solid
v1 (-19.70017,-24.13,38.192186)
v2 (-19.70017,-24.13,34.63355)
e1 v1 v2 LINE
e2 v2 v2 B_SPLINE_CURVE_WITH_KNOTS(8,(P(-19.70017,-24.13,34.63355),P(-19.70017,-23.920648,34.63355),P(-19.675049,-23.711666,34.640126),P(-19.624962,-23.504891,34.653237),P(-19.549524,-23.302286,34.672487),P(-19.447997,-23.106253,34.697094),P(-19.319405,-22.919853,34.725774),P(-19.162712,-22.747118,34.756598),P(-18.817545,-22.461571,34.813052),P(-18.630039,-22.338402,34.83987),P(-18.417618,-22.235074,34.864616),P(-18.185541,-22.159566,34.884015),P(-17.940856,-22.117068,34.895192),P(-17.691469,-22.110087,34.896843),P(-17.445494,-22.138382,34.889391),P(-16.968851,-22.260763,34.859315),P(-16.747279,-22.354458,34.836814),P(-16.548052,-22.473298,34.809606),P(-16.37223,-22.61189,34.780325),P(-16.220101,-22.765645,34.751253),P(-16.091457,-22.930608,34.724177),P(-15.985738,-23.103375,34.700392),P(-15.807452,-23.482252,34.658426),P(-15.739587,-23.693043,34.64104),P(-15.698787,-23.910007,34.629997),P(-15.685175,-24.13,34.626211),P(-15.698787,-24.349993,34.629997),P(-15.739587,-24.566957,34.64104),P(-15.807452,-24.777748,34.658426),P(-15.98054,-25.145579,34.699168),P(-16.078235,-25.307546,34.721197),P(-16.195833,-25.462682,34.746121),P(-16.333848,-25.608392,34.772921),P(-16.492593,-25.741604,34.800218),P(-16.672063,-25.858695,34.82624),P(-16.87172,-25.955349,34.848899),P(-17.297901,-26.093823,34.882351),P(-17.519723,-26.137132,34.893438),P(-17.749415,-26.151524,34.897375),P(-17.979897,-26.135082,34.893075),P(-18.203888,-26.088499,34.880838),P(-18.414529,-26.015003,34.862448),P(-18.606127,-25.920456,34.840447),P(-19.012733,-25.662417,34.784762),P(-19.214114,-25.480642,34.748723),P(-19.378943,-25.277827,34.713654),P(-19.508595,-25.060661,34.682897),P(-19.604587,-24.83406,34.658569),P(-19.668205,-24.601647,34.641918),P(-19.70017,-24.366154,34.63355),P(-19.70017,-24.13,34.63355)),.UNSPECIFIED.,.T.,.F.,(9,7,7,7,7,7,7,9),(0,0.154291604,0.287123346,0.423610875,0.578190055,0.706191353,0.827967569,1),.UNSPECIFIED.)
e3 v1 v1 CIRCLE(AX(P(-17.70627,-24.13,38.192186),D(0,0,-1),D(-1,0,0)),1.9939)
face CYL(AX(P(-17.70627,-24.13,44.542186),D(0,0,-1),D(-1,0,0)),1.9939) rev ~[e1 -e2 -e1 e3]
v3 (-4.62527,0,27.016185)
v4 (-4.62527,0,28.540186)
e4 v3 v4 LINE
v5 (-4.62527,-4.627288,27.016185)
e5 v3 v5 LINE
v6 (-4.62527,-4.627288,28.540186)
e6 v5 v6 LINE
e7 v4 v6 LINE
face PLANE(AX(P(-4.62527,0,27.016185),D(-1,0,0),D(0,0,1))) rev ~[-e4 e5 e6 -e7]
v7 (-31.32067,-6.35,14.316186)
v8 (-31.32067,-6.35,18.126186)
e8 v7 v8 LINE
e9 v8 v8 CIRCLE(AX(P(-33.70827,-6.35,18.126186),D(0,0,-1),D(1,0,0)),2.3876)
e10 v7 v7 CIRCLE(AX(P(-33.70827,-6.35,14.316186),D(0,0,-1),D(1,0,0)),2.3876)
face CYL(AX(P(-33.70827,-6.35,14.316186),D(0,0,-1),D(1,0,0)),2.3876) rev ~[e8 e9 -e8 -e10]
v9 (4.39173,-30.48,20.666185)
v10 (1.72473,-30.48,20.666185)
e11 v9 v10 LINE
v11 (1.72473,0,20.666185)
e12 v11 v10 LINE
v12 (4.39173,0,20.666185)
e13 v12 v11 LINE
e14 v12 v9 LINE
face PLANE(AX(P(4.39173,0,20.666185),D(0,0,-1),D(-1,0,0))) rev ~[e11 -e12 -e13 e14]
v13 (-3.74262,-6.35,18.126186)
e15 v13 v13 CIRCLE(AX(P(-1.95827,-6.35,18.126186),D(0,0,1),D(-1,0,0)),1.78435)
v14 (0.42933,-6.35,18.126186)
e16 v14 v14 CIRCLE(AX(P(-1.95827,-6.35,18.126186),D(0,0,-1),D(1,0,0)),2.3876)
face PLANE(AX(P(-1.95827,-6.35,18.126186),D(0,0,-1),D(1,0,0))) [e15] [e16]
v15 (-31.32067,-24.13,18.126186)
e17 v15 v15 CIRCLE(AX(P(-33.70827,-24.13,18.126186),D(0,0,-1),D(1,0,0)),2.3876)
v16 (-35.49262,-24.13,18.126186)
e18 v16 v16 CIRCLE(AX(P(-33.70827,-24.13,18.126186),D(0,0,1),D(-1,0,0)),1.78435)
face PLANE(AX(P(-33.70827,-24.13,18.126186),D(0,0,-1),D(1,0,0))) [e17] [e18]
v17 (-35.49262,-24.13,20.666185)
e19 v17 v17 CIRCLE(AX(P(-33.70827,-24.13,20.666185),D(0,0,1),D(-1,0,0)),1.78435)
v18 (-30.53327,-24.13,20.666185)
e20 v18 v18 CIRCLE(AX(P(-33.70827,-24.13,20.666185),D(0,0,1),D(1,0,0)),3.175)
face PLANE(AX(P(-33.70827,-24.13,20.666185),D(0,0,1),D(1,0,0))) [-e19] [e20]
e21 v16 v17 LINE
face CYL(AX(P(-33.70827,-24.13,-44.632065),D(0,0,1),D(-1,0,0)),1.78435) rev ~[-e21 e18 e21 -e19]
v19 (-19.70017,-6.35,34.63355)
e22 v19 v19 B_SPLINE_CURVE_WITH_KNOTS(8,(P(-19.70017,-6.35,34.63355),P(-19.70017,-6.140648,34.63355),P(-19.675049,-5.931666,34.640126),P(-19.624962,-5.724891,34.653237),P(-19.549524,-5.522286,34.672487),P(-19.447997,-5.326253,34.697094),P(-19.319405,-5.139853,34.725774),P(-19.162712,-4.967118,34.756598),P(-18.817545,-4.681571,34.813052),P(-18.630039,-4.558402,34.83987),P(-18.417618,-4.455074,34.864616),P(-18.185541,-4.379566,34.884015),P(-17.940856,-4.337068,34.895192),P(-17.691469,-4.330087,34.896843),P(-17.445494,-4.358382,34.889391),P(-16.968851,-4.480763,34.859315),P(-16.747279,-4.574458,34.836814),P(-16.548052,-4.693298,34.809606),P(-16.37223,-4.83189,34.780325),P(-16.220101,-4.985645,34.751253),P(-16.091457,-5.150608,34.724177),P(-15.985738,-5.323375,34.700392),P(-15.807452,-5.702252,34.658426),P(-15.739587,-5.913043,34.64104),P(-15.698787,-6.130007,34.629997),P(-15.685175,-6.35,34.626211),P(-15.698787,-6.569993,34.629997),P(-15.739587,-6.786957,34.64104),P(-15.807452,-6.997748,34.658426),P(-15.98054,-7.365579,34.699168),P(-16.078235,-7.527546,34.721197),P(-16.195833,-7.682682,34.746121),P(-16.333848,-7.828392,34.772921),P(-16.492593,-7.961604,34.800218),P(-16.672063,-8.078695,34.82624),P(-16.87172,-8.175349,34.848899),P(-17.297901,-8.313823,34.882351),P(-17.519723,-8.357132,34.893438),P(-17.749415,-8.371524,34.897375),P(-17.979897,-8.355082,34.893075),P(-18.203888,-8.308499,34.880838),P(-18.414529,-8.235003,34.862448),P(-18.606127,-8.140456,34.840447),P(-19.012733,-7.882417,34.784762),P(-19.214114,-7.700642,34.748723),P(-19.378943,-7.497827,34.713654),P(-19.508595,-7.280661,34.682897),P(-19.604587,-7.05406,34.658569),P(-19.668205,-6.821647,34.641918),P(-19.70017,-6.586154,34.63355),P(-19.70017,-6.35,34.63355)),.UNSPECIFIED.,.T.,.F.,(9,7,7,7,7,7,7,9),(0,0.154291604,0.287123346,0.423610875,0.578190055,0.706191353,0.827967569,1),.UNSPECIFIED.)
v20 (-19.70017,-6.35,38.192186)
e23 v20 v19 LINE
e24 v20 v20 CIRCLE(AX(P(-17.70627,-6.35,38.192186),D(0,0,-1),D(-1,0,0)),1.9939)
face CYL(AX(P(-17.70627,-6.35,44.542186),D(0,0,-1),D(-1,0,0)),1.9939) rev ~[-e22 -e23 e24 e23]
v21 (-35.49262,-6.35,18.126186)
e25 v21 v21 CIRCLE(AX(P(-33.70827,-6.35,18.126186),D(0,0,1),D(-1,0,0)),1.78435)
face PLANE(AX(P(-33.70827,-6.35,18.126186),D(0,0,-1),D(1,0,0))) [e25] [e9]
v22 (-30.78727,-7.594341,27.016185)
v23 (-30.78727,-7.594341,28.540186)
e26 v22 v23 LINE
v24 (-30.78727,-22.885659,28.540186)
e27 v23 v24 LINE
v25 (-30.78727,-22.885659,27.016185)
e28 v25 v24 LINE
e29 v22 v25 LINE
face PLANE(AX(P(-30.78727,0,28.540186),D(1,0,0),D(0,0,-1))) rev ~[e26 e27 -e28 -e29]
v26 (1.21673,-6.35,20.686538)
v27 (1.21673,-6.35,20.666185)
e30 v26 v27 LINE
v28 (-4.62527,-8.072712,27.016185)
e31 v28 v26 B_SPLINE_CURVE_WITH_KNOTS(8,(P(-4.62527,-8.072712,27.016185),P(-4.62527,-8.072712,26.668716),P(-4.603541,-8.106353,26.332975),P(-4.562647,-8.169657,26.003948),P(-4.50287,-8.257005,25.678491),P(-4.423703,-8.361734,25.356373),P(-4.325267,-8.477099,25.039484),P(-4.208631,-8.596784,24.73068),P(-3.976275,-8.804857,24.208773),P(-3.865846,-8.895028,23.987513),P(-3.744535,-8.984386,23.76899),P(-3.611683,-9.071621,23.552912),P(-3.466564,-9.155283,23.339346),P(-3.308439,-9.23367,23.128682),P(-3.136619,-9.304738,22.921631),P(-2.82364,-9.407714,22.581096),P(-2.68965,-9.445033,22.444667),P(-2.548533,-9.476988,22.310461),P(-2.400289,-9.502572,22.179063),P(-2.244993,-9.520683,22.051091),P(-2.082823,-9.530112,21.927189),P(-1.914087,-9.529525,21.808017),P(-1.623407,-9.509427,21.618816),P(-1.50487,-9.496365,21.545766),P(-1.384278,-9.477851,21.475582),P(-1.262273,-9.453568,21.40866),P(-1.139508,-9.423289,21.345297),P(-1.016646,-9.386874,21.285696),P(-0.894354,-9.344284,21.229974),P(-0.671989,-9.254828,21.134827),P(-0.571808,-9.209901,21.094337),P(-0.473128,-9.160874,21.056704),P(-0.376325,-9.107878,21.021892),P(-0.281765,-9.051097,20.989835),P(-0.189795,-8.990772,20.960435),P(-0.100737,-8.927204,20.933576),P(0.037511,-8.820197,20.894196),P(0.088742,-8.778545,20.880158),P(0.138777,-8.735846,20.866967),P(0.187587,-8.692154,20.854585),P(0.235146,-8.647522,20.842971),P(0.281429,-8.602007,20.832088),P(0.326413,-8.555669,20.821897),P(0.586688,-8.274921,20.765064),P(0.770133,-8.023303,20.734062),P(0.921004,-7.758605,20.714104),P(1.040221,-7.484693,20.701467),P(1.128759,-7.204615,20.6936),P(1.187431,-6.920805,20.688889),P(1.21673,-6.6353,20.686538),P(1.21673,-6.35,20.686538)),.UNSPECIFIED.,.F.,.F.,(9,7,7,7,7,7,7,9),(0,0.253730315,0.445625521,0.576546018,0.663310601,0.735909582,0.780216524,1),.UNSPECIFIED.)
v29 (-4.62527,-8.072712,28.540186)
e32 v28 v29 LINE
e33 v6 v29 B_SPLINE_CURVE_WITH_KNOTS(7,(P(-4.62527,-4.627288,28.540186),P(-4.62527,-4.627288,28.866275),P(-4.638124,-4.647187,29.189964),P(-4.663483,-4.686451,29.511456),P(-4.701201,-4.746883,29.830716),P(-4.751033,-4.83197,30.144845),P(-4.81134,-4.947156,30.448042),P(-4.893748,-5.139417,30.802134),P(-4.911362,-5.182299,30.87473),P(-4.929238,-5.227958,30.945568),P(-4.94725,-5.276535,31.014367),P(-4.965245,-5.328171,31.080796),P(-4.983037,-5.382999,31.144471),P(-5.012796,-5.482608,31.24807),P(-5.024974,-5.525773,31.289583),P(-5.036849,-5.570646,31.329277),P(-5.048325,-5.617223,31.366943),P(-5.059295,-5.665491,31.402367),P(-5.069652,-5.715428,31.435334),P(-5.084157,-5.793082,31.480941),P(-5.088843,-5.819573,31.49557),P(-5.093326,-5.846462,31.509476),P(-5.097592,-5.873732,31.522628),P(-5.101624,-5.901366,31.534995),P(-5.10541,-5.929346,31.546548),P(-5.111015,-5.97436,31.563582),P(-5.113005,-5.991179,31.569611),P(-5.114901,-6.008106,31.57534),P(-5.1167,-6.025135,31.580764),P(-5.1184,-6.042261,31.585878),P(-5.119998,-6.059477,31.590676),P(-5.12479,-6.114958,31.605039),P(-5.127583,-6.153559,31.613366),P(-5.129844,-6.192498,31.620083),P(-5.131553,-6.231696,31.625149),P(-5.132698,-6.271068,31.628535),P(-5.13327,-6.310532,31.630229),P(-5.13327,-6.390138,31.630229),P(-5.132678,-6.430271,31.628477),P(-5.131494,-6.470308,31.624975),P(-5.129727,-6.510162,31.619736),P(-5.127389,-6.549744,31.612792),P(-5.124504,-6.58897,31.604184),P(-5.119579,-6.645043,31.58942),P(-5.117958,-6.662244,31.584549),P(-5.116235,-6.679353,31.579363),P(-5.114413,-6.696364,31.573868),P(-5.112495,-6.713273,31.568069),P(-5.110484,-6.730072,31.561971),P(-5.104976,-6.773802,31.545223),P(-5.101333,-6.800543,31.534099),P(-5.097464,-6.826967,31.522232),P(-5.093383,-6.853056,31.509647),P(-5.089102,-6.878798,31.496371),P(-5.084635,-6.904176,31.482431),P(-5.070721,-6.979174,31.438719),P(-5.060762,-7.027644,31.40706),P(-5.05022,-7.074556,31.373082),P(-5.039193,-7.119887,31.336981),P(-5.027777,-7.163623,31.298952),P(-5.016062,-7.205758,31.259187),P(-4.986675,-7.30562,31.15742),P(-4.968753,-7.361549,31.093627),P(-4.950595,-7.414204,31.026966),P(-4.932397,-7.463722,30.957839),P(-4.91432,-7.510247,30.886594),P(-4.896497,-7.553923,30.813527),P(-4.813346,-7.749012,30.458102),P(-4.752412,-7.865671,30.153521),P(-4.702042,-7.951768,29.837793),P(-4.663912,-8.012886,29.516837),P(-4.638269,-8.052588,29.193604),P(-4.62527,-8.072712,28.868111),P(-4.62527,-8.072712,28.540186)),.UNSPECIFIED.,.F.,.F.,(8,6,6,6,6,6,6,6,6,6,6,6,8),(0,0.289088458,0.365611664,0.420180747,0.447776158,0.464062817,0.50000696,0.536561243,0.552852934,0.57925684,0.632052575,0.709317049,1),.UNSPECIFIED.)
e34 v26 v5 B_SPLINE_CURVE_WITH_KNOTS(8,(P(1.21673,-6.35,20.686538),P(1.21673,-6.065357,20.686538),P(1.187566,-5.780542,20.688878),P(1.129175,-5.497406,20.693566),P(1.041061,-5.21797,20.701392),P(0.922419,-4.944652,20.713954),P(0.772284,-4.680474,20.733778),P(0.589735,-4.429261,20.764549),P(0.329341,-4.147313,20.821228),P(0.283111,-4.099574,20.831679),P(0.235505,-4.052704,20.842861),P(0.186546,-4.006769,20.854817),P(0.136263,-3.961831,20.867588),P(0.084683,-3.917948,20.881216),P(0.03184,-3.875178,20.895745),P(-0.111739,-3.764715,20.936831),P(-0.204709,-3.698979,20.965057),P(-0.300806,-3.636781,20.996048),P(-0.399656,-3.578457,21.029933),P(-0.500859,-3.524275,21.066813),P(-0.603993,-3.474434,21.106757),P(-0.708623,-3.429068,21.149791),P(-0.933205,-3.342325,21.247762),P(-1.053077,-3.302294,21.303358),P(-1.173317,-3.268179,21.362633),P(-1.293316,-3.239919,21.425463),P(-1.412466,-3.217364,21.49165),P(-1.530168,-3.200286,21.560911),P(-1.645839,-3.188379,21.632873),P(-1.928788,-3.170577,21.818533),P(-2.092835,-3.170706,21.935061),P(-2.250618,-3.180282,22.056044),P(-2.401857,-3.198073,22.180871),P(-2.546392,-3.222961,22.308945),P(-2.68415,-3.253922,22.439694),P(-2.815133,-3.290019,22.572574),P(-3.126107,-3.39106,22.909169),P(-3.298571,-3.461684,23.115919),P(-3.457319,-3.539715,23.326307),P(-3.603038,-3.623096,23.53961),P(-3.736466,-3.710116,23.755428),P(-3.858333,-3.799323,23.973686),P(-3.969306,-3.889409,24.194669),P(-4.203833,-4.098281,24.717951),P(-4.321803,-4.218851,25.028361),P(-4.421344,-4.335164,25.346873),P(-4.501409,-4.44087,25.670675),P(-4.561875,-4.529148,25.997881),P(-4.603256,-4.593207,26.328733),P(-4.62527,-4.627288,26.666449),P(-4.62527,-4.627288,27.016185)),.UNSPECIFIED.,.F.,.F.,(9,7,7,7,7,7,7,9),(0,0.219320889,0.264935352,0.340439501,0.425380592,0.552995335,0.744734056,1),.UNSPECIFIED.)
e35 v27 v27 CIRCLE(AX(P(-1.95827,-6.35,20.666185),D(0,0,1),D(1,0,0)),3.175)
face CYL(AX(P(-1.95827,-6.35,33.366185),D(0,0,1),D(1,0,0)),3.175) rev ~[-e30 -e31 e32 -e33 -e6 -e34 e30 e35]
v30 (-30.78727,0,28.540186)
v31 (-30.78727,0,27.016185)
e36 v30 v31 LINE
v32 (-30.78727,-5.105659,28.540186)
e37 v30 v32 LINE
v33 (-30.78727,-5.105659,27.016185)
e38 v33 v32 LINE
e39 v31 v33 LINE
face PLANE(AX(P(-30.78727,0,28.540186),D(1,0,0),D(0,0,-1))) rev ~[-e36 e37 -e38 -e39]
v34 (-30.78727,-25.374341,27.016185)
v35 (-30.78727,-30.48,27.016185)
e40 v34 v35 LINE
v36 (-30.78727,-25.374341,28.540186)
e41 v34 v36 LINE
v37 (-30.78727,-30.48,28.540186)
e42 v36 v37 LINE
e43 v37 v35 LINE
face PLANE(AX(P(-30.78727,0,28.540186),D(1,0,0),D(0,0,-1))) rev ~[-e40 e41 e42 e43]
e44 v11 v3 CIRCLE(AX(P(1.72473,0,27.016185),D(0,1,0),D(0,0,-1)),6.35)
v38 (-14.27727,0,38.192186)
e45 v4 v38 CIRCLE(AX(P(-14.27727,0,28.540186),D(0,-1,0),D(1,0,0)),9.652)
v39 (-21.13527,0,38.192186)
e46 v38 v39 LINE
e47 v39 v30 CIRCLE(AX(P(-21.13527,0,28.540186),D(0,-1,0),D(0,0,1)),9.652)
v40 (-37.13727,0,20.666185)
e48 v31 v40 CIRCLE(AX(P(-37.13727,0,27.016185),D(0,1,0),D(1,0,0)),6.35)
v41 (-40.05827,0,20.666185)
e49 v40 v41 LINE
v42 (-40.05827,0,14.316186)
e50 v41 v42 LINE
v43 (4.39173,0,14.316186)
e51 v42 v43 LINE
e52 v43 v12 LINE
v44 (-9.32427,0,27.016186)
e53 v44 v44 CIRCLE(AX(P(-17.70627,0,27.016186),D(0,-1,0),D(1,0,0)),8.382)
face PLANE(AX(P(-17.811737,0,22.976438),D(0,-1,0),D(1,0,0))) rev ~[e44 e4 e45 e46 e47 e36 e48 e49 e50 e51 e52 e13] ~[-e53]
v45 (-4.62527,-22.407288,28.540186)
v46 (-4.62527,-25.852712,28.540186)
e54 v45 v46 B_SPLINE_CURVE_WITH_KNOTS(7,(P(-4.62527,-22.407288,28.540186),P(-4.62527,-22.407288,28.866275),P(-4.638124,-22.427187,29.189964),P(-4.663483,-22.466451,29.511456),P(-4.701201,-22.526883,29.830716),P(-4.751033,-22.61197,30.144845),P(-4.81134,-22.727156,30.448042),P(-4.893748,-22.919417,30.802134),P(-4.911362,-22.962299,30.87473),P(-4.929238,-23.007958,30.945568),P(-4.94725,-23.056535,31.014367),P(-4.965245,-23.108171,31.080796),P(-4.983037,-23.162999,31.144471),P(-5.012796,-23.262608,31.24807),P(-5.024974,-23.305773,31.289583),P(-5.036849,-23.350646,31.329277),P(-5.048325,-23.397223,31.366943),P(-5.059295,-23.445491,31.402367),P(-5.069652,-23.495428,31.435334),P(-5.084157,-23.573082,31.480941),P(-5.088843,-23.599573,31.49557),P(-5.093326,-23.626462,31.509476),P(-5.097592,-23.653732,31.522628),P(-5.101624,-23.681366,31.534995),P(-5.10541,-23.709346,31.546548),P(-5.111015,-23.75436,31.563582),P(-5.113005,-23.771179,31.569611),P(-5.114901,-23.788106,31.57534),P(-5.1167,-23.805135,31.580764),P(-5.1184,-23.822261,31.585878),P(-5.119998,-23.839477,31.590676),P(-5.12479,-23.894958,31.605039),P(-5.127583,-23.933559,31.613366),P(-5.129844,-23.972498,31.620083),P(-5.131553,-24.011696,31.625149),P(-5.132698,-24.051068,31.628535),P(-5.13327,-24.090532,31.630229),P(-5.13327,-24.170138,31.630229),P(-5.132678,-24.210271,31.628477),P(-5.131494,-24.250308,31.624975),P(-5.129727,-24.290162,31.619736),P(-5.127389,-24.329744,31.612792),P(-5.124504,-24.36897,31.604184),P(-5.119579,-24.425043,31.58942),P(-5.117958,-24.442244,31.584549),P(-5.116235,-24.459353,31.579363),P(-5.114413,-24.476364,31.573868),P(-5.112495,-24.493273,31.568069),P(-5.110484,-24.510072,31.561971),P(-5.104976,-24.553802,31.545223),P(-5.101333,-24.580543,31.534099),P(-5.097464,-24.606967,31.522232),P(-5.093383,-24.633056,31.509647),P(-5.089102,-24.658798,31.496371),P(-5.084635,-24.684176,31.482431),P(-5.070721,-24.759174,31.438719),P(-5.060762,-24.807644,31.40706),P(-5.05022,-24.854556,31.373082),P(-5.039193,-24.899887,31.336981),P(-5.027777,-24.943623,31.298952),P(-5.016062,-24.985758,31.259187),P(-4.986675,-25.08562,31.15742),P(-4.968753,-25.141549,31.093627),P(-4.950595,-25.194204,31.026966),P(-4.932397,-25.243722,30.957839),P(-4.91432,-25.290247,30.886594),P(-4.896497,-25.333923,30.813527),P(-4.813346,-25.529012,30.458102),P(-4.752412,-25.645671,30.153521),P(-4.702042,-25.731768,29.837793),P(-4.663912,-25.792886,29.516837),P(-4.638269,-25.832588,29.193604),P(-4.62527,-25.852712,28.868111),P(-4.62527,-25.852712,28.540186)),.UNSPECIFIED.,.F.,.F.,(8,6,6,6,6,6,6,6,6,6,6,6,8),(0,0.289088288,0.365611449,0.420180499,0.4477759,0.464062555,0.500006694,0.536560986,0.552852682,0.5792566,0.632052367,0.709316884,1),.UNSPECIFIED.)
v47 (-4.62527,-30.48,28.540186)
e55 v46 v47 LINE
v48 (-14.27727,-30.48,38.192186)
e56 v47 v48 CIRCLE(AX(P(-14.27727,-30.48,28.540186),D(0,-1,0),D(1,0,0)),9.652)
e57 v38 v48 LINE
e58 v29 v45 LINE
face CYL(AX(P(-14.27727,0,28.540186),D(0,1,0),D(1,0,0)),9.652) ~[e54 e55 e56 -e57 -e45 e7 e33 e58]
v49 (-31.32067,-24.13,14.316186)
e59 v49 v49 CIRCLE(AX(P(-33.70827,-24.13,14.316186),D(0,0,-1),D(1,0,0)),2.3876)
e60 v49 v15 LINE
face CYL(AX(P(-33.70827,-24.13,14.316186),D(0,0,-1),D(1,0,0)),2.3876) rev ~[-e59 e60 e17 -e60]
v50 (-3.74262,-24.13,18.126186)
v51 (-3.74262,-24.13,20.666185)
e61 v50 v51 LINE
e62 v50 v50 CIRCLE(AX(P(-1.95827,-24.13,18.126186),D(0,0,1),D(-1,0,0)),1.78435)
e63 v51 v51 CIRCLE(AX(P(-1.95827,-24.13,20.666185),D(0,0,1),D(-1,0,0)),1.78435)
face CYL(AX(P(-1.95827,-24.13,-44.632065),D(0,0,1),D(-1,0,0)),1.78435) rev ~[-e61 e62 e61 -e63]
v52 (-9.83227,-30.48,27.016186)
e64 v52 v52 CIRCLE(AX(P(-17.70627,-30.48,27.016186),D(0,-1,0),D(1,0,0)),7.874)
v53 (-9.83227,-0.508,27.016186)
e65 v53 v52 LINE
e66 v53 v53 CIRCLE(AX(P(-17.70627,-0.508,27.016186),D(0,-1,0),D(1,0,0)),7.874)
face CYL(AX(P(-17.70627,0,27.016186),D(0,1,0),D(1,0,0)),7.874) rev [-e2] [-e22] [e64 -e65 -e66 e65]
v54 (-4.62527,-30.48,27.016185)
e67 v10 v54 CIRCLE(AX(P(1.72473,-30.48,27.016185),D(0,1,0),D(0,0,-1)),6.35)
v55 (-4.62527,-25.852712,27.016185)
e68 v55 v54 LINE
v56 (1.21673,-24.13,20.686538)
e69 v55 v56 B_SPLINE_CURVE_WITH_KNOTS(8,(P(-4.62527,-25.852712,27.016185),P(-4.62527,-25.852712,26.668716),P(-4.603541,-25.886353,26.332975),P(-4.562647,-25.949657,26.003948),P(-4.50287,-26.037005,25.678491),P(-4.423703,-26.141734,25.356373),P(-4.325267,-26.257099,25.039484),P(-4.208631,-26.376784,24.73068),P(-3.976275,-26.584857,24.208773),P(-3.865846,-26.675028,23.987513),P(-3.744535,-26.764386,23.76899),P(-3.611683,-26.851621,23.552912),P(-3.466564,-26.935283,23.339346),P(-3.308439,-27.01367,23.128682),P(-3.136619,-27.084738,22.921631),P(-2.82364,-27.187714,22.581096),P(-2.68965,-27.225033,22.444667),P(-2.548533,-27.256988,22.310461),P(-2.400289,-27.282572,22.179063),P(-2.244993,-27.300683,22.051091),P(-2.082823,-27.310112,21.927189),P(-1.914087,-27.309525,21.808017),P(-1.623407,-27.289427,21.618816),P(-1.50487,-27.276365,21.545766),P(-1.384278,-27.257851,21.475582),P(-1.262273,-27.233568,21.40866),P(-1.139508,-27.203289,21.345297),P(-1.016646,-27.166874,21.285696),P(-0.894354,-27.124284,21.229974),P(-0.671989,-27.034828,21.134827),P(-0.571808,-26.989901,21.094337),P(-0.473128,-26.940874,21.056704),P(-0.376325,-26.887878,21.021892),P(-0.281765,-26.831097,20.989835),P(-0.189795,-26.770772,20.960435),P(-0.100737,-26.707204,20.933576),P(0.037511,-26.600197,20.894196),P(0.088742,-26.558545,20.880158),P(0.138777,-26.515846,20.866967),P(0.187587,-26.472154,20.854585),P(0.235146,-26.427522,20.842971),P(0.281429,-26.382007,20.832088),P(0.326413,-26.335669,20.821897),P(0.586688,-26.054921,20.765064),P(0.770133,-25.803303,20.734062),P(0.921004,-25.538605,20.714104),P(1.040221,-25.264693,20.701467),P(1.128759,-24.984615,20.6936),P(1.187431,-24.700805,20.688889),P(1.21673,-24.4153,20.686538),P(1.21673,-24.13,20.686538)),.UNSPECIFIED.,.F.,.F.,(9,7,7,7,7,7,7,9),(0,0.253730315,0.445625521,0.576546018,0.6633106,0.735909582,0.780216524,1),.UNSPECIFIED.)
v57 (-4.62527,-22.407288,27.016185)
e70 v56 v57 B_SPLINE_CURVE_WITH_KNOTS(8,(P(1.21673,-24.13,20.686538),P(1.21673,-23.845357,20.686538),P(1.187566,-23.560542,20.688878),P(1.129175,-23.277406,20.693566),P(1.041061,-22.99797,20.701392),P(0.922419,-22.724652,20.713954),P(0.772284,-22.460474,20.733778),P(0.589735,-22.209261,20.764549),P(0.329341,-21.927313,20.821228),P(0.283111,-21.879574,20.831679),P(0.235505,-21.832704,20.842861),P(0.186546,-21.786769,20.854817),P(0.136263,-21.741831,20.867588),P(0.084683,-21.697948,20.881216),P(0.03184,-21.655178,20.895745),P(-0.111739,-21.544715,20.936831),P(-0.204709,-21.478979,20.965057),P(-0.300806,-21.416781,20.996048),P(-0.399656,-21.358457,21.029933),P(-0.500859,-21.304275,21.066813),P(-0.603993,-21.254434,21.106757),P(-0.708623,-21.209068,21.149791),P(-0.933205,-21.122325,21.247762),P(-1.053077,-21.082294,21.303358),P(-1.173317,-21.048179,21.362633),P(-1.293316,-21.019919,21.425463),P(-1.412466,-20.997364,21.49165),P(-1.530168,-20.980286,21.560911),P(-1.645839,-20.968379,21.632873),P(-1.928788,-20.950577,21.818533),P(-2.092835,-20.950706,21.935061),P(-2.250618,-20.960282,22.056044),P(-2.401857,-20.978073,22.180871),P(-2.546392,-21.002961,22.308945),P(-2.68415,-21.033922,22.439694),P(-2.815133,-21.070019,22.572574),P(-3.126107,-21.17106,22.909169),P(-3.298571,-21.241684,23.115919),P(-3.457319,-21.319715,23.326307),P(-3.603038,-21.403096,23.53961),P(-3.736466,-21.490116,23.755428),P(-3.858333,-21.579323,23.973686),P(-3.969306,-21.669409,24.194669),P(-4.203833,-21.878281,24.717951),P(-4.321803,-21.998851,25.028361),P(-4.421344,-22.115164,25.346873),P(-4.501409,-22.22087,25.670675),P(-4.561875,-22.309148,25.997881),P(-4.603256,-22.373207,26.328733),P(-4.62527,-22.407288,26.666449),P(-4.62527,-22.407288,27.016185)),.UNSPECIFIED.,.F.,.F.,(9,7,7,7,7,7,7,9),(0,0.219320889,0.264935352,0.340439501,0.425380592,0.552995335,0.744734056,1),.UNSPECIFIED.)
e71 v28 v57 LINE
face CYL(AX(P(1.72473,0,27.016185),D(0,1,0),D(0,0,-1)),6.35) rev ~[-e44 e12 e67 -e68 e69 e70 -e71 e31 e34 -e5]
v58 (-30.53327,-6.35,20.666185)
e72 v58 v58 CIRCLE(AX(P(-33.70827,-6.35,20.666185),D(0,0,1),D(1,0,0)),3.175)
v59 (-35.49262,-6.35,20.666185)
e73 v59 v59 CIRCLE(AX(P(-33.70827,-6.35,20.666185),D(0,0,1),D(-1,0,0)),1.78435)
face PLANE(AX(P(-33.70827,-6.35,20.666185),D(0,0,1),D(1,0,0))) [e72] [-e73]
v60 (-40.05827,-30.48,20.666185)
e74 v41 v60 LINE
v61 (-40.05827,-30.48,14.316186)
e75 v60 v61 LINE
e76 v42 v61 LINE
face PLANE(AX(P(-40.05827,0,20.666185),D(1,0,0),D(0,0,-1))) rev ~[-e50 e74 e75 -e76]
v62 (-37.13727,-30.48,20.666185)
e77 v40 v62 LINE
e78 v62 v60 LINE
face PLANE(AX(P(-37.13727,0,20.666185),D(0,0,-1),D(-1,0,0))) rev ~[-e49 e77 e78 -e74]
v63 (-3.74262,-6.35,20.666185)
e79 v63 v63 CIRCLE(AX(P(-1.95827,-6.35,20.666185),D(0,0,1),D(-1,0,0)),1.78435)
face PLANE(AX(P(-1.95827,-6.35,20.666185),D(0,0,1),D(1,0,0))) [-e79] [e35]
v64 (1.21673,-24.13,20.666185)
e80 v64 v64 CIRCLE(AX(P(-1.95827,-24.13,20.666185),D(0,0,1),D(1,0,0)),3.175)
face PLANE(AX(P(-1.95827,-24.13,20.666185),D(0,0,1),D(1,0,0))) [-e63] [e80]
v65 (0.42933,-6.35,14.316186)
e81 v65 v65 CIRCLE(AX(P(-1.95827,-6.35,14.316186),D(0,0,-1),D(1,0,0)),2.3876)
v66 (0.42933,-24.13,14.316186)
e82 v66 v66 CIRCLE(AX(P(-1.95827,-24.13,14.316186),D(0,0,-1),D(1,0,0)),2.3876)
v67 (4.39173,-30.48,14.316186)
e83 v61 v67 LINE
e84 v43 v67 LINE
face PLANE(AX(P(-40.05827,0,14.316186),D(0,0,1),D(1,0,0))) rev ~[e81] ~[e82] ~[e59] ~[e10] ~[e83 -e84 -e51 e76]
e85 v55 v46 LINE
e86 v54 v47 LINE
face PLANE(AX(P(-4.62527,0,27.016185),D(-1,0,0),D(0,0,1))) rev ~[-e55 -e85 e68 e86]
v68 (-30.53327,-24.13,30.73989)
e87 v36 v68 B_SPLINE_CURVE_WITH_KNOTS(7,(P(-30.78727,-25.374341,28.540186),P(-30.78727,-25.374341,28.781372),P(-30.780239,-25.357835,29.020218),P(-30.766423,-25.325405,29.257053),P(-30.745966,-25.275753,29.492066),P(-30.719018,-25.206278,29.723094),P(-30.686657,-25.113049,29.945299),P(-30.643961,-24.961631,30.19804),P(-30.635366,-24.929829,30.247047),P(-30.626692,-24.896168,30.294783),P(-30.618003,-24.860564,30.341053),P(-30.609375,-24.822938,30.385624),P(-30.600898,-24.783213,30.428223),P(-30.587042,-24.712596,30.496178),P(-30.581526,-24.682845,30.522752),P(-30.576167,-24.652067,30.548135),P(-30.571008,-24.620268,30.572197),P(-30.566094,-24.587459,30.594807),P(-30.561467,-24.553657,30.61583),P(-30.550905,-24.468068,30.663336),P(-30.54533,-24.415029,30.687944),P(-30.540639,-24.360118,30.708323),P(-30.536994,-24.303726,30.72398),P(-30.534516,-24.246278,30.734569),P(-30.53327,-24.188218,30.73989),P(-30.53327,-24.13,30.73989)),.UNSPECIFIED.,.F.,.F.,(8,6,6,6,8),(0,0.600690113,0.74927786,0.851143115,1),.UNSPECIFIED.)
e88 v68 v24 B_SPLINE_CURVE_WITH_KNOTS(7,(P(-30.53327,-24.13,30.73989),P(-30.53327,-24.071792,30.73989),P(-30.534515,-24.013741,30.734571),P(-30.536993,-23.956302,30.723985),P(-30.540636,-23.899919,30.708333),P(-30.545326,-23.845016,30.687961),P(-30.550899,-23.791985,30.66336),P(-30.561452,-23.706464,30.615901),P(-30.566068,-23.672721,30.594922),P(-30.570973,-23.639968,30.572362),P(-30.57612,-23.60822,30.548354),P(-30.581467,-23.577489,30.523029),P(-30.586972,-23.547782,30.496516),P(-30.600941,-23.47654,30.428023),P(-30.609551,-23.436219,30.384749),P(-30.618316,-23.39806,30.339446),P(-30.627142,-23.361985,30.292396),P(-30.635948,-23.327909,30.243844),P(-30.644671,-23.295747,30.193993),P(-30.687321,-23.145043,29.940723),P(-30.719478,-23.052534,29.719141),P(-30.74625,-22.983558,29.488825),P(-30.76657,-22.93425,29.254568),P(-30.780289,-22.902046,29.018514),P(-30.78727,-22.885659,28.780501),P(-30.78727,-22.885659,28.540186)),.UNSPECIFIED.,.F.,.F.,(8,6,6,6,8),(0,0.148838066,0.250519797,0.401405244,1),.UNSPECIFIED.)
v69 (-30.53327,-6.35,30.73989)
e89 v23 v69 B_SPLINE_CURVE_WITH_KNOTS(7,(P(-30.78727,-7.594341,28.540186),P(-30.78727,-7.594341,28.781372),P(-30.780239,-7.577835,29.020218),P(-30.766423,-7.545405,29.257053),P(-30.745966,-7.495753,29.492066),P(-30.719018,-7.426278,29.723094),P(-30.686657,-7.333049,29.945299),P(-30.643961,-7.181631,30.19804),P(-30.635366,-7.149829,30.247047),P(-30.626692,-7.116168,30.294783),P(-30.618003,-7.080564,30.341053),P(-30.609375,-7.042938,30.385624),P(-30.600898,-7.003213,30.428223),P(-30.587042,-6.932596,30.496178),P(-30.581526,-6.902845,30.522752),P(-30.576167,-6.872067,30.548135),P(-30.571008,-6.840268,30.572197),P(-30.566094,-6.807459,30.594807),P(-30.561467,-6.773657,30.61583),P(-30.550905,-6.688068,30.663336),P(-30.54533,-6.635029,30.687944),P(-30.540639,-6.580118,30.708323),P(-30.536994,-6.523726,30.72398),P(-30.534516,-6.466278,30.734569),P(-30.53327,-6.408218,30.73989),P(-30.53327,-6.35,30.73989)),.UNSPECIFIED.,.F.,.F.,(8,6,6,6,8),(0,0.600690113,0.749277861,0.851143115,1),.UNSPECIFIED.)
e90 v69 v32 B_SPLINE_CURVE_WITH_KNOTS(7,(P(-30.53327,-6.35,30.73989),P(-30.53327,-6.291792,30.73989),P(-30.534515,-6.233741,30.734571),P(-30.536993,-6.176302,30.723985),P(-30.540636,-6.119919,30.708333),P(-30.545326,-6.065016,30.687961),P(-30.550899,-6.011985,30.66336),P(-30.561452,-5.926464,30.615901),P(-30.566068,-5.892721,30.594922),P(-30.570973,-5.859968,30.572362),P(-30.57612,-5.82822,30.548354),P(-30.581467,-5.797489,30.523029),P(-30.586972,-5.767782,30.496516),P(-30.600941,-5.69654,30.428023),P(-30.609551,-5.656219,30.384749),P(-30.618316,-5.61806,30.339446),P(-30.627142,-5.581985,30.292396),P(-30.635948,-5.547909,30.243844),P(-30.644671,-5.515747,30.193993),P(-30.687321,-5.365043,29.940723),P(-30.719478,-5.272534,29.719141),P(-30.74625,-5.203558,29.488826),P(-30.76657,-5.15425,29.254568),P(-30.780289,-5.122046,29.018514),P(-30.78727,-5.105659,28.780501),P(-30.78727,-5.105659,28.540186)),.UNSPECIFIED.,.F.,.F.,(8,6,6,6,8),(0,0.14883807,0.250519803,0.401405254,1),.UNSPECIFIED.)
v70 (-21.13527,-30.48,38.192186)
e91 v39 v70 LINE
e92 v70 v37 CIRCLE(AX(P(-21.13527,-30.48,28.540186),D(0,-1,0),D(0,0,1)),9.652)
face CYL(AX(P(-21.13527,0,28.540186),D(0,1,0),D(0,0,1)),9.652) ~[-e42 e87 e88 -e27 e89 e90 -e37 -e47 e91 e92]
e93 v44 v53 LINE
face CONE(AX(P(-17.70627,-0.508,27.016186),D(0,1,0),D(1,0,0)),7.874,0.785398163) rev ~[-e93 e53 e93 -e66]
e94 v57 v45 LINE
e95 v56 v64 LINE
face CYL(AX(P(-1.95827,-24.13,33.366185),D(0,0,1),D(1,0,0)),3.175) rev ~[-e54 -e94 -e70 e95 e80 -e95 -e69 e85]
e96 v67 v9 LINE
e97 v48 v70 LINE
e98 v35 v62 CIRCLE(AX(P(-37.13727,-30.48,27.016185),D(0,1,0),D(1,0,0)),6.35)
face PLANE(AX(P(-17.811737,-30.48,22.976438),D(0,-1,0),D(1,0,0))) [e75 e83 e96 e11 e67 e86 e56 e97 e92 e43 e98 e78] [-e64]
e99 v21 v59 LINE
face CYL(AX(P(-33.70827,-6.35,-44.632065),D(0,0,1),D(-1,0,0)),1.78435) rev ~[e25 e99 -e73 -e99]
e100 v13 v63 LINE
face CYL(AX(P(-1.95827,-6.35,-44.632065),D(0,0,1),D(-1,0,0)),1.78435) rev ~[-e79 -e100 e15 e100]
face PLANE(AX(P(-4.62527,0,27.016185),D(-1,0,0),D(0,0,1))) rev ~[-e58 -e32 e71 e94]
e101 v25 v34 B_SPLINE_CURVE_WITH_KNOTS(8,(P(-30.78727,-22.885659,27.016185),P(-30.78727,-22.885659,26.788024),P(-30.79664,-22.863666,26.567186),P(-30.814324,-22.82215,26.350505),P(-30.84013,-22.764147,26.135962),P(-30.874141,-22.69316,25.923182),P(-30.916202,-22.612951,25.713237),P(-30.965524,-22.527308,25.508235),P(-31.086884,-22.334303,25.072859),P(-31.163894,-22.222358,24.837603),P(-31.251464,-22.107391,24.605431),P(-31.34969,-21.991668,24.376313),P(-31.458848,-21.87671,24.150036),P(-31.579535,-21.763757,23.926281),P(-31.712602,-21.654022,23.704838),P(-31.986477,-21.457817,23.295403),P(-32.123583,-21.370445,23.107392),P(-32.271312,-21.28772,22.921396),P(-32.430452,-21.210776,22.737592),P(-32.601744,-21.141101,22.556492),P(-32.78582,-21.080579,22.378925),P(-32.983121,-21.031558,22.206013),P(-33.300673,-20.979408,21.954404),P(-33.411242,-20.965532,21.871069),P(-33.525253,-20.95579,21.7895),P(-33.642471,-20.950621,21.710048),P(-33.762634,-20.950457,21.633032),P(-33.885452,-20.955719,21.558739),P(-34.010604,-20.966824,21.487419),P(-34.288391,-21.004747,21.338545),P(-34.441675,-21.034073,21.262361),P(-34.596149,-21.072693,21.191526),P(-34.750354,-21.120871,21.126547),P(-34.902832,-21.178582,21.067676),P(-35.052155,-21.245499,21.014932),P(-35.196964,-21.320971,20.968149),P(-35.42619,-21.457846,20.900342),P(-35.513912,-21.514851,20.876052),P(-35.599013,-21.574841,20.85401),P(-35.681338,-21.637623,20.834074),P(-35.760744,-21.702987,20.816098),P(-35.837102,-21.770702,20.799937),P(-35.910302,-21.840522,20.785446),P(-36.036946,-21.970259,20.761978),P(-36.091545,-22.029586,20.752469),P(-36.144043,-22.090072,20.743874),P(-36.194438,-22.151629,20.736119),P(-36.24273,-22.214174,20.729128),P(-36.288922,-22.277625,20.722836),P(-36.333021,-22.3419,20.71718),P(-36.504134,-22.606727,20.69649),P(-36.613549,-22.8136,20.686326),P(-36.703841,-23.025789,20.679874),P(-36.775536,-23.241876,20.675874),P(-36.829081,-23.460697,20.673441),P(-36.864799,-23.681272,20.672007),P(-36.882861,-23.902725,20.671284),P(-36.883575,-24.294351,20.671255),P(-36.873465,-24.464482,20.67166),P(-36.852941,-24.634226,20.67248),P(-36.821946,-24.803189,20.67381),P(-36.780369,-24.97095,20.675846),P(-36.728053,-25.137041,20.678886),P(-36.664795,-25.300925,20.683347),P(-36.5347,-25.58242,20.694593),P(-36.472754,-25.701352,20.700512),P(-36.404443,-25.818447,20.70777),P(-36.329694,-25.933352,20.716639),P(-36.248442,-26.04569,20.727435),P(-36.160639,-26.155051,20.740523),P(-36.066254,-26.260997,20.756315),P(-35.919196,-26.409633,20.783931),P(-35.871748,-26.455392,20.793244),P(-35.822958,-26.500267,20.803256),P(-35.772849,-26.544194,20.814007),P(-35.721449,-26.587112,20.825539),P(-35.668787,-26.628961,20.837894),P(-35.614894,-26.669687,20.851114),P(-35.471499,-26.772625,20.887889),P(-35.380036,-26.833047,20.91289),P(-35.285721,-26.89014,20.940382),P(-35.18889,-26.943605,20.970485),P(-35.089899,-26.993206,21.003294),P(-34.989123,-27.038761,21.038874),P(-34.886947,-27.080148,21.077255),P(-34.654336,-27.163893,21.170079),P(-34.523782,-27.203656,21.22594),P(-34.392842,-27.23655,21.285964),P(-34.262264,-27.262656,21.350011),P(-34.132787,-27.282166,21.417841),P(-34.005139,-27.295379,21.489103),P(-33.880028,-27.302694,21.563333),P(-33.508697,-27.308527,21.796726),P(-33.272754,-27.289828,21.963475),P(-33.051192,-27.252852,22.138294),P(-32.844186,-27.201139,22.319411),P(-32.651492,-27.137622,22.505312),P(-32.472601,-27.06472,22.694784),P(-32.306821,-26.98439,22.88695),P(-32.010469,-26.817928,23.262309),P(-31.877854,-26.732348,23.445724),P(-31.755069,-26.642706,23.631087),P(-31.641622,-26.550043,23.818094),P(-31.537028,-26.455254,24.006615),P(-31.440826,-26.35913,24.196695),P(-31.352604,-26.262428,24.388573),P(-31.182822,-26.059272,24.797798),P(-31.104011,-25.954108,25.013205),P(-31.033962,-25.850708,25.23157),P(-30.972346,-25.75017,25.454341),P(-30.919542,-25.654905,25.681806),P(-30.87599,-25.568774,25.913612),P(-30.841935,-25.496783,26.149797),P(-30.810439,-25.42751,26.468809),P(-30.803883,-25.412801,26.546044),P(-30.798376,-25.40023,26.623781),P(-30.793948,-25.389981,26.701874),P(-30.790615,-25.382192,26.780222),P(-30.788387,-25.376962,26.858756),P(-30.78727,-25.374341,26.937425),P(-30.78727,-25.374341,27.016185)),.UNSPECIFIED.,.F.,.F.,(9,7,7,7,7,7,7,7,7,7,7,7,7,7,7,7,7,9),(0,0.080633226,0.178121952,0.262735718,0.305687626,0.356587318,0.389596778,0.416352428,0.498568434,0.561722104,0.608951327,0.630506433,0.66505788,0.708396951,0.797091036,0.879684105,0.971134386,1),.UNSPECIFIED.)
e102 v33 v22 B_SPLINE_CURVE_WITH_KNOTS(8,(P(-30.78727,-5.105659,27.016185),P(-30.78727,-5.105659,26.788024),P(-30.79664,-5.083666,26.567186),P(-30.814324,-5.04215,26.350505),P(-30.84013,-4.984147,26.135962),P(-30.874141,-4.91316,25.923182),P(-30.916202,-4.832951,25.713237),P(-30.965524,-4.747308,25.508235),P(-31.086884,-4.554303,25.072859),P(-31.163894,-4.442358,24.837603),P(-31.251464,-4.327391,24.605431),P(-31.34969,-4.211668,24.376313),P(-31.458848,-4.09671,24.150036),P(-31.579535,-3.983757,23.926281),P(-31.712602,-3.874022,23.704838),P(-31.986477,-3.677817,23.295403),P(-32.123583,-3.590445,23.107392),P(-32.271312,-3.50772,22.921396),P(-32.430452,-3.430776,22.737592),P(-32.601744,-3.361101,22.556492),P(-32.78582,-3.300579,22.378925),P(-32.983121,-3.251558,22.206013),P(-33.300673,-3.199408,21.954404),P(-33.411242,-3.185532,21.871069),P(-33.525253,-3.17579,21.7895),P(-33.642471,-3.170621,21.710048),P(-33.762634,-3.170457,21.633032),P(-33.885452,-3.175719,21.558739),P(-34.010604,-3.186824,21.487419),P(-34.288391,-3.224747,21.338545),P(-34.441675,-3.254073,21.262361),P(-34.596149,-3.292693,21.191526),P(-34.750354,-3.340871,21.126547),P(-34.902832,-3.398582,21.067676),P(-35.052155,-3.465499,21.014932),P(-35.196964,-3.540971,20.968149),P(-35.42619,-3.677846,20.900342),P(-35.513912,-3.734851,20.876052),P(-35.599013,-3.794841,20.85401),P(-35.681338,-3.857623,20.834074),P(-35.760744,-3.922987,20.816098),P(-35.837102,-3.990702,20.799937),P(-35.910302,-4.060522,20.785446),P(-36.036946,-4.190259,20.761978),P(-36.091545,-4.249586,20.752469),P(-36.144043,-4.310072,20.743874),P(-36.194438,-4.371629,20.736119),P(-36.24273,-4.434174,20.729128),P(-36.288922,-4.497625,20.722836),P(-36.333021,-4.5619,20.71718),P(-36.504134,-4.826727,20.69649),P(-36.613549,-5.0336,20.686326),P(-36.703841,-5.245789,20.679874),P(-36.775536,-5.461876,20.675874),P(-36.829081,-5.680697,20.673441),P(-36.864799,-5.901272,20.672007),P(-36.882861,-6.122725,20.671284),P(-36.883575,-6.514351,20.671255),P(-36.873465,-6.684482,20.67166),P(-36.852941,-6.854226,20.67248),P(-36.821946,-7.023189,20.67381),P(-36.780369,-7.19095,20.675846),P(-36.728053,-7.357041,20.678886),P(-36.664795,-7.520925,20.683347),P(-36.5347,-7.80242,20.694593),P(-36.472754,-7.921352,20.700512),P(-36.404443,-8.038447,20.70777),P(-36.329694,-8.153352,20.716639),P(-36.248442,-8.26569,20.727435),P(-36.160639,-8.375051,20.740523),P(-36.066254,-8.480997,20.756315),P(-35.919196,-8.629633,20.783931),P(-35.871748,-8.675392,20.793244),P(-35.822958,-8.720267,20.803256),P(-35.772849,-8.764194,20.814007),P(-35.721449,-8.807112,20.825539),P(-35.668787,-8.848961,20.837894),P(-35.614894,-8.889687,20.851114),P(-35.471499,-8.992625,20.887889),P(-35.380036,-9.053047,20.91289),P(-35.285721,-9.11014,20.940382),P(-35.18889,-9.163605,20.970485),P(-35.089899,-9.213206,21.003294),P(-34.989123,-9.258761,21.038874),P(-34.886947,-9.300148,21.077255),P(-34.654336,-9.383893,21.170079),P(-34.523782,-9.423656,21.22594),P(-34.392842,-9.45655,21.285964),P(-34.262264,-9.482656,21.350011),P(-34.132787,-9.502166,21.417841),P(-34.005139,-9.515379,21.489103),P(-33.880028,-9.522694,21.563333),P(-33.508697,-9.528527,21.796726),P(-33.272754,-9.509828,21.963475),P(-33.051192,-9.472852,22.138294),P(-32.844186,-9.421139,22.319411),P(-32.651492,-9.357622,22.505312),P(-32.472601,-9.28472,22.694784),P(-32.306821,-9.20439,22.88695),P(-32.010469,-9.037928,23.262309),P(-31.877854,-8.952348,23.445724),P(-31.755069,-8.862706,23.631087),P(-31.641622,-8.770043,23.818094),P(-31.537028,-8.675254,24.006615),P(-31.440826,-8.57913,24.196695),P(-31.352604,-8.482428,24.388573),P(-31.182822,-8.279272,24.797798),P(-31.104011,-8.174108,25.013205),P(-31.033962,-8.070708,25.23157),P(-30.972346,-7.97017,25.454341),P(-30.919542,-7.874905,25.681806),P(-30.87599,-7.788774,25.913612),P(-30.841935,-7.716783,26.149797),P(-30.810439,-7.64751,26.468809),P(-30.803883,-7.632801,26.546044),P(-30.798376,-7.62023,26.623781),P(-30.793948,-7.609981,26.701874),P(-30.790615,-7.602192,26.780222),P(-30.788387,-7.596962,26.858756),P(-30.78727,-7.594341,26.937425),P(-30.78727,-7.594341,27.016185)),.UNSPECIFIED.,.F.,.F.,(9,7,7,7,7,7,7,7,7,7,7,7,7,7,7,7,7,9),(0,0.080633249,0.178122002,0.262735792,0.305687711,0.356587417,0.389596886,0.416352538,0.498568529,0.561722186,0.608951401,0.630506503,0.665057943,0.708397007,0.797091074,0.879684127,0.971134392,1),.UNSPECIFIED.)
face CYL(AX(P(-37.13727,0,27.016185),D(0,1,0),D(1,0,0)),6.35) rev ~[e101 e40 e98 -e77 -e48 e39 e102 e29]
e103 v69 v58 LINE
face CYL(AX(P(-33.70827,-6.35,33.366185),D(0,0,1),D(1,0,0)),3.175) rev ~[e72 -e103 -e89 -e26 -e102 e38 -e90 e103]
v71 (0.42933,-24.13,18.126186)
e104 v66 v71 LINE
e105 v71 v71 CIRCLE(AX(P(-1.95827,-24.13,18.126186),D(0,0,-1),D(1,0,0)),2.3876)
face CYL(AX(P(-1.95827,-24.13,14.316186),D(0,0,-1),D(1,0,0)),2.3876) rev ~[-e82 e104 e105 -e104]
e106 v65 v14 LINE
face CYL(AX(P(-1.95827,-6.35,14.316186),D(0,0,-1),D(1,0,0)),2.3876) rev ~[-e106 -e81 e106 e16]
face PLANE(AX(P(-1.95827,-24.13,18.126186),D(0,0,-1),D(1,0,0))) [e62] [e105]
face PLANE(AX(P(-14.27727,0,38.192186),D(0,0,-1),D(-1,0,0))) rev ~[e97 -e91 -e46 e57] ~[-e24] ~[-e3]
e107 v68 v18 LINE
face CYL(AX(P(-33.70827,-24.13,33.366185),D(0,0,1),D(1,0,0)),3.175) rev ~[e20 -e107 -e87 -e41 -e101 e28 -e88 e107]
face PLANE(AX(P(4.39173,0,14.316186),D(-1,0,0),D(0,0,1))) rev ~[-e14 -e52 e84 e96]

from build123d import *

# Parameters (mm, degrees)
F0_R      = 7.874
F1_DEPTH  = 30.48
F3_D      = 3.5687
F2_R      = 2.3876
F4_DEPTH  = 3.81
F6_R      = 3.175
F7_DEPTH  = 12.7
F9_D      = 3.9878
F9_DEPTH  = 6.35
F9_TIP    = 1.1980559883
F10_SIZE2 = 0.508
F10_SIZE  = 0.508


with BuildPart() as f1:
    # F0 (on Front) → F1 (new body)
    with BuildSketch(Plane.XZ):
        with BuildLine():
            Line((-40.0582700968, 20.666185411), (-40.0582700968, 14.3161859534))
            Line((-40.0582700968, 14.3161859534), (4.3917299032, 14.3161859534))
            Line((4.3917299032, 14.3161859534), (4.3917299032, 20.666185411))
            Line((4.3917299032, 20.666185411), (1.7247299032, 20.666185411))
            ThreePointArc((1.7247299032, 20.666185411), (-2.7653981573, 22.5260573505), (-4.6252700968, 27.016185411))
            Line((-4.6252700968, 27.016185411), (-4.6252700968, 28.5401859534))
            ThreePointArc((-4.6252700968, 28.5401859534), (-7.4522754448, 35.3651806054), (-14.2772700968, 38.1921859534))
            Line((-14.2772700968, 38.1921859534), (-21.1352700968, 38.1921859534))
            ThreePointArc((-21.1352700968, 38.1921859534), (-27.9602647488, 35.3651806054), (-30.7872700968, 28.5401859534))
            Line((-30.7872700968, 28.5401859534), (-30.7872700968, 27.016185411))
            ThreePointArc((-30.7872700968, 27.016185411), (-32.6471420362, 22.5260573505), (-37.1372700968, 20.666185411))
            Line((-37.1372700968, 20.666185411), (-40.0582700968, 20.666185411))
        make_face()
        with Locations((-17.7062700968, 27.0161859534)):
            Circle(F0_R, mode=Mode.SUBTRACT)
    extrude(amount=F1_DEPTH)

    # F3 (through all)
    with Locations(Plane(origin=(0, 0, 14.3161859534), x_dir=(1, 0, 0), z_dir=(0, 0, -1))):
        with Locations((-33.7082700968, 24.13), (-33.7082700968, 6.35), (-1.9582700968, 24.13), (-1.9582700968, 6.35)):
            Hole(F3_D / 2)

    # F2 (on face) → F4 (cut)
    with BuildSketch(Plane(origin=(0, 0, 14.3161859534), x_dir=(1, 0, 0), z_dir=(0, 0, -1))):
        with Locations((-33.7082700968, 24.13)):
            Circle(F2_R)
        with Locations((-1.9582700968, 6.35)):
            Circle(F2_R)
        with Locations((-33.7082700968, 6.35)):
            Circle(F2_R)
        with Locations((-1.9582700968, 24.13)):
            Circle(F2_R)
    extrude(amount=-F4_DEPTH, mode=Mode.SUBTRACT)

    # F6 (on offset) → F7 (cut)
    with BuildSketch(Plane.XY.offset(33.366185411)):
        with Locations((-33.7082700968, -6.35)):
            Circle(F6_R)
        with Locations((-33.7082700968, -24.13)):
            Circle(F6_R)
        with Locations((-1.9582700968, -6.35)):
            Circle(F6_R)
        with Locations((-1.9582700968, -24.13)):
            Circle(F6_R)
    extrude(amount=-F7_DEPTH, mode=Mode.SUBTRACT)

    # F9
    with Locations(Plane.XY.offset(38.1921859534)):
        with Locations((-17.7062700968, -6.35), (-17.7062700968, -24.13)):
            Hole(F9_D / 2, depth=F9_DEPTH)
            with Locations((0, 0, -(F9_DEPTH + F9_TIP / 2))):  # 118° drill point
                Cone(0, F9_D / 2, F9_TIP, mode=Mode.SUBTRACT)

    # F10
    f10_edges = [f1.edges().sort_by_distance(p)[0] for p in [
        (-25.58027, 0, 27.016186),
    ]]
    chamfer(f10_edges, length=F10_SIZE, length2=F10_SIZE2)


solid = f1.part
